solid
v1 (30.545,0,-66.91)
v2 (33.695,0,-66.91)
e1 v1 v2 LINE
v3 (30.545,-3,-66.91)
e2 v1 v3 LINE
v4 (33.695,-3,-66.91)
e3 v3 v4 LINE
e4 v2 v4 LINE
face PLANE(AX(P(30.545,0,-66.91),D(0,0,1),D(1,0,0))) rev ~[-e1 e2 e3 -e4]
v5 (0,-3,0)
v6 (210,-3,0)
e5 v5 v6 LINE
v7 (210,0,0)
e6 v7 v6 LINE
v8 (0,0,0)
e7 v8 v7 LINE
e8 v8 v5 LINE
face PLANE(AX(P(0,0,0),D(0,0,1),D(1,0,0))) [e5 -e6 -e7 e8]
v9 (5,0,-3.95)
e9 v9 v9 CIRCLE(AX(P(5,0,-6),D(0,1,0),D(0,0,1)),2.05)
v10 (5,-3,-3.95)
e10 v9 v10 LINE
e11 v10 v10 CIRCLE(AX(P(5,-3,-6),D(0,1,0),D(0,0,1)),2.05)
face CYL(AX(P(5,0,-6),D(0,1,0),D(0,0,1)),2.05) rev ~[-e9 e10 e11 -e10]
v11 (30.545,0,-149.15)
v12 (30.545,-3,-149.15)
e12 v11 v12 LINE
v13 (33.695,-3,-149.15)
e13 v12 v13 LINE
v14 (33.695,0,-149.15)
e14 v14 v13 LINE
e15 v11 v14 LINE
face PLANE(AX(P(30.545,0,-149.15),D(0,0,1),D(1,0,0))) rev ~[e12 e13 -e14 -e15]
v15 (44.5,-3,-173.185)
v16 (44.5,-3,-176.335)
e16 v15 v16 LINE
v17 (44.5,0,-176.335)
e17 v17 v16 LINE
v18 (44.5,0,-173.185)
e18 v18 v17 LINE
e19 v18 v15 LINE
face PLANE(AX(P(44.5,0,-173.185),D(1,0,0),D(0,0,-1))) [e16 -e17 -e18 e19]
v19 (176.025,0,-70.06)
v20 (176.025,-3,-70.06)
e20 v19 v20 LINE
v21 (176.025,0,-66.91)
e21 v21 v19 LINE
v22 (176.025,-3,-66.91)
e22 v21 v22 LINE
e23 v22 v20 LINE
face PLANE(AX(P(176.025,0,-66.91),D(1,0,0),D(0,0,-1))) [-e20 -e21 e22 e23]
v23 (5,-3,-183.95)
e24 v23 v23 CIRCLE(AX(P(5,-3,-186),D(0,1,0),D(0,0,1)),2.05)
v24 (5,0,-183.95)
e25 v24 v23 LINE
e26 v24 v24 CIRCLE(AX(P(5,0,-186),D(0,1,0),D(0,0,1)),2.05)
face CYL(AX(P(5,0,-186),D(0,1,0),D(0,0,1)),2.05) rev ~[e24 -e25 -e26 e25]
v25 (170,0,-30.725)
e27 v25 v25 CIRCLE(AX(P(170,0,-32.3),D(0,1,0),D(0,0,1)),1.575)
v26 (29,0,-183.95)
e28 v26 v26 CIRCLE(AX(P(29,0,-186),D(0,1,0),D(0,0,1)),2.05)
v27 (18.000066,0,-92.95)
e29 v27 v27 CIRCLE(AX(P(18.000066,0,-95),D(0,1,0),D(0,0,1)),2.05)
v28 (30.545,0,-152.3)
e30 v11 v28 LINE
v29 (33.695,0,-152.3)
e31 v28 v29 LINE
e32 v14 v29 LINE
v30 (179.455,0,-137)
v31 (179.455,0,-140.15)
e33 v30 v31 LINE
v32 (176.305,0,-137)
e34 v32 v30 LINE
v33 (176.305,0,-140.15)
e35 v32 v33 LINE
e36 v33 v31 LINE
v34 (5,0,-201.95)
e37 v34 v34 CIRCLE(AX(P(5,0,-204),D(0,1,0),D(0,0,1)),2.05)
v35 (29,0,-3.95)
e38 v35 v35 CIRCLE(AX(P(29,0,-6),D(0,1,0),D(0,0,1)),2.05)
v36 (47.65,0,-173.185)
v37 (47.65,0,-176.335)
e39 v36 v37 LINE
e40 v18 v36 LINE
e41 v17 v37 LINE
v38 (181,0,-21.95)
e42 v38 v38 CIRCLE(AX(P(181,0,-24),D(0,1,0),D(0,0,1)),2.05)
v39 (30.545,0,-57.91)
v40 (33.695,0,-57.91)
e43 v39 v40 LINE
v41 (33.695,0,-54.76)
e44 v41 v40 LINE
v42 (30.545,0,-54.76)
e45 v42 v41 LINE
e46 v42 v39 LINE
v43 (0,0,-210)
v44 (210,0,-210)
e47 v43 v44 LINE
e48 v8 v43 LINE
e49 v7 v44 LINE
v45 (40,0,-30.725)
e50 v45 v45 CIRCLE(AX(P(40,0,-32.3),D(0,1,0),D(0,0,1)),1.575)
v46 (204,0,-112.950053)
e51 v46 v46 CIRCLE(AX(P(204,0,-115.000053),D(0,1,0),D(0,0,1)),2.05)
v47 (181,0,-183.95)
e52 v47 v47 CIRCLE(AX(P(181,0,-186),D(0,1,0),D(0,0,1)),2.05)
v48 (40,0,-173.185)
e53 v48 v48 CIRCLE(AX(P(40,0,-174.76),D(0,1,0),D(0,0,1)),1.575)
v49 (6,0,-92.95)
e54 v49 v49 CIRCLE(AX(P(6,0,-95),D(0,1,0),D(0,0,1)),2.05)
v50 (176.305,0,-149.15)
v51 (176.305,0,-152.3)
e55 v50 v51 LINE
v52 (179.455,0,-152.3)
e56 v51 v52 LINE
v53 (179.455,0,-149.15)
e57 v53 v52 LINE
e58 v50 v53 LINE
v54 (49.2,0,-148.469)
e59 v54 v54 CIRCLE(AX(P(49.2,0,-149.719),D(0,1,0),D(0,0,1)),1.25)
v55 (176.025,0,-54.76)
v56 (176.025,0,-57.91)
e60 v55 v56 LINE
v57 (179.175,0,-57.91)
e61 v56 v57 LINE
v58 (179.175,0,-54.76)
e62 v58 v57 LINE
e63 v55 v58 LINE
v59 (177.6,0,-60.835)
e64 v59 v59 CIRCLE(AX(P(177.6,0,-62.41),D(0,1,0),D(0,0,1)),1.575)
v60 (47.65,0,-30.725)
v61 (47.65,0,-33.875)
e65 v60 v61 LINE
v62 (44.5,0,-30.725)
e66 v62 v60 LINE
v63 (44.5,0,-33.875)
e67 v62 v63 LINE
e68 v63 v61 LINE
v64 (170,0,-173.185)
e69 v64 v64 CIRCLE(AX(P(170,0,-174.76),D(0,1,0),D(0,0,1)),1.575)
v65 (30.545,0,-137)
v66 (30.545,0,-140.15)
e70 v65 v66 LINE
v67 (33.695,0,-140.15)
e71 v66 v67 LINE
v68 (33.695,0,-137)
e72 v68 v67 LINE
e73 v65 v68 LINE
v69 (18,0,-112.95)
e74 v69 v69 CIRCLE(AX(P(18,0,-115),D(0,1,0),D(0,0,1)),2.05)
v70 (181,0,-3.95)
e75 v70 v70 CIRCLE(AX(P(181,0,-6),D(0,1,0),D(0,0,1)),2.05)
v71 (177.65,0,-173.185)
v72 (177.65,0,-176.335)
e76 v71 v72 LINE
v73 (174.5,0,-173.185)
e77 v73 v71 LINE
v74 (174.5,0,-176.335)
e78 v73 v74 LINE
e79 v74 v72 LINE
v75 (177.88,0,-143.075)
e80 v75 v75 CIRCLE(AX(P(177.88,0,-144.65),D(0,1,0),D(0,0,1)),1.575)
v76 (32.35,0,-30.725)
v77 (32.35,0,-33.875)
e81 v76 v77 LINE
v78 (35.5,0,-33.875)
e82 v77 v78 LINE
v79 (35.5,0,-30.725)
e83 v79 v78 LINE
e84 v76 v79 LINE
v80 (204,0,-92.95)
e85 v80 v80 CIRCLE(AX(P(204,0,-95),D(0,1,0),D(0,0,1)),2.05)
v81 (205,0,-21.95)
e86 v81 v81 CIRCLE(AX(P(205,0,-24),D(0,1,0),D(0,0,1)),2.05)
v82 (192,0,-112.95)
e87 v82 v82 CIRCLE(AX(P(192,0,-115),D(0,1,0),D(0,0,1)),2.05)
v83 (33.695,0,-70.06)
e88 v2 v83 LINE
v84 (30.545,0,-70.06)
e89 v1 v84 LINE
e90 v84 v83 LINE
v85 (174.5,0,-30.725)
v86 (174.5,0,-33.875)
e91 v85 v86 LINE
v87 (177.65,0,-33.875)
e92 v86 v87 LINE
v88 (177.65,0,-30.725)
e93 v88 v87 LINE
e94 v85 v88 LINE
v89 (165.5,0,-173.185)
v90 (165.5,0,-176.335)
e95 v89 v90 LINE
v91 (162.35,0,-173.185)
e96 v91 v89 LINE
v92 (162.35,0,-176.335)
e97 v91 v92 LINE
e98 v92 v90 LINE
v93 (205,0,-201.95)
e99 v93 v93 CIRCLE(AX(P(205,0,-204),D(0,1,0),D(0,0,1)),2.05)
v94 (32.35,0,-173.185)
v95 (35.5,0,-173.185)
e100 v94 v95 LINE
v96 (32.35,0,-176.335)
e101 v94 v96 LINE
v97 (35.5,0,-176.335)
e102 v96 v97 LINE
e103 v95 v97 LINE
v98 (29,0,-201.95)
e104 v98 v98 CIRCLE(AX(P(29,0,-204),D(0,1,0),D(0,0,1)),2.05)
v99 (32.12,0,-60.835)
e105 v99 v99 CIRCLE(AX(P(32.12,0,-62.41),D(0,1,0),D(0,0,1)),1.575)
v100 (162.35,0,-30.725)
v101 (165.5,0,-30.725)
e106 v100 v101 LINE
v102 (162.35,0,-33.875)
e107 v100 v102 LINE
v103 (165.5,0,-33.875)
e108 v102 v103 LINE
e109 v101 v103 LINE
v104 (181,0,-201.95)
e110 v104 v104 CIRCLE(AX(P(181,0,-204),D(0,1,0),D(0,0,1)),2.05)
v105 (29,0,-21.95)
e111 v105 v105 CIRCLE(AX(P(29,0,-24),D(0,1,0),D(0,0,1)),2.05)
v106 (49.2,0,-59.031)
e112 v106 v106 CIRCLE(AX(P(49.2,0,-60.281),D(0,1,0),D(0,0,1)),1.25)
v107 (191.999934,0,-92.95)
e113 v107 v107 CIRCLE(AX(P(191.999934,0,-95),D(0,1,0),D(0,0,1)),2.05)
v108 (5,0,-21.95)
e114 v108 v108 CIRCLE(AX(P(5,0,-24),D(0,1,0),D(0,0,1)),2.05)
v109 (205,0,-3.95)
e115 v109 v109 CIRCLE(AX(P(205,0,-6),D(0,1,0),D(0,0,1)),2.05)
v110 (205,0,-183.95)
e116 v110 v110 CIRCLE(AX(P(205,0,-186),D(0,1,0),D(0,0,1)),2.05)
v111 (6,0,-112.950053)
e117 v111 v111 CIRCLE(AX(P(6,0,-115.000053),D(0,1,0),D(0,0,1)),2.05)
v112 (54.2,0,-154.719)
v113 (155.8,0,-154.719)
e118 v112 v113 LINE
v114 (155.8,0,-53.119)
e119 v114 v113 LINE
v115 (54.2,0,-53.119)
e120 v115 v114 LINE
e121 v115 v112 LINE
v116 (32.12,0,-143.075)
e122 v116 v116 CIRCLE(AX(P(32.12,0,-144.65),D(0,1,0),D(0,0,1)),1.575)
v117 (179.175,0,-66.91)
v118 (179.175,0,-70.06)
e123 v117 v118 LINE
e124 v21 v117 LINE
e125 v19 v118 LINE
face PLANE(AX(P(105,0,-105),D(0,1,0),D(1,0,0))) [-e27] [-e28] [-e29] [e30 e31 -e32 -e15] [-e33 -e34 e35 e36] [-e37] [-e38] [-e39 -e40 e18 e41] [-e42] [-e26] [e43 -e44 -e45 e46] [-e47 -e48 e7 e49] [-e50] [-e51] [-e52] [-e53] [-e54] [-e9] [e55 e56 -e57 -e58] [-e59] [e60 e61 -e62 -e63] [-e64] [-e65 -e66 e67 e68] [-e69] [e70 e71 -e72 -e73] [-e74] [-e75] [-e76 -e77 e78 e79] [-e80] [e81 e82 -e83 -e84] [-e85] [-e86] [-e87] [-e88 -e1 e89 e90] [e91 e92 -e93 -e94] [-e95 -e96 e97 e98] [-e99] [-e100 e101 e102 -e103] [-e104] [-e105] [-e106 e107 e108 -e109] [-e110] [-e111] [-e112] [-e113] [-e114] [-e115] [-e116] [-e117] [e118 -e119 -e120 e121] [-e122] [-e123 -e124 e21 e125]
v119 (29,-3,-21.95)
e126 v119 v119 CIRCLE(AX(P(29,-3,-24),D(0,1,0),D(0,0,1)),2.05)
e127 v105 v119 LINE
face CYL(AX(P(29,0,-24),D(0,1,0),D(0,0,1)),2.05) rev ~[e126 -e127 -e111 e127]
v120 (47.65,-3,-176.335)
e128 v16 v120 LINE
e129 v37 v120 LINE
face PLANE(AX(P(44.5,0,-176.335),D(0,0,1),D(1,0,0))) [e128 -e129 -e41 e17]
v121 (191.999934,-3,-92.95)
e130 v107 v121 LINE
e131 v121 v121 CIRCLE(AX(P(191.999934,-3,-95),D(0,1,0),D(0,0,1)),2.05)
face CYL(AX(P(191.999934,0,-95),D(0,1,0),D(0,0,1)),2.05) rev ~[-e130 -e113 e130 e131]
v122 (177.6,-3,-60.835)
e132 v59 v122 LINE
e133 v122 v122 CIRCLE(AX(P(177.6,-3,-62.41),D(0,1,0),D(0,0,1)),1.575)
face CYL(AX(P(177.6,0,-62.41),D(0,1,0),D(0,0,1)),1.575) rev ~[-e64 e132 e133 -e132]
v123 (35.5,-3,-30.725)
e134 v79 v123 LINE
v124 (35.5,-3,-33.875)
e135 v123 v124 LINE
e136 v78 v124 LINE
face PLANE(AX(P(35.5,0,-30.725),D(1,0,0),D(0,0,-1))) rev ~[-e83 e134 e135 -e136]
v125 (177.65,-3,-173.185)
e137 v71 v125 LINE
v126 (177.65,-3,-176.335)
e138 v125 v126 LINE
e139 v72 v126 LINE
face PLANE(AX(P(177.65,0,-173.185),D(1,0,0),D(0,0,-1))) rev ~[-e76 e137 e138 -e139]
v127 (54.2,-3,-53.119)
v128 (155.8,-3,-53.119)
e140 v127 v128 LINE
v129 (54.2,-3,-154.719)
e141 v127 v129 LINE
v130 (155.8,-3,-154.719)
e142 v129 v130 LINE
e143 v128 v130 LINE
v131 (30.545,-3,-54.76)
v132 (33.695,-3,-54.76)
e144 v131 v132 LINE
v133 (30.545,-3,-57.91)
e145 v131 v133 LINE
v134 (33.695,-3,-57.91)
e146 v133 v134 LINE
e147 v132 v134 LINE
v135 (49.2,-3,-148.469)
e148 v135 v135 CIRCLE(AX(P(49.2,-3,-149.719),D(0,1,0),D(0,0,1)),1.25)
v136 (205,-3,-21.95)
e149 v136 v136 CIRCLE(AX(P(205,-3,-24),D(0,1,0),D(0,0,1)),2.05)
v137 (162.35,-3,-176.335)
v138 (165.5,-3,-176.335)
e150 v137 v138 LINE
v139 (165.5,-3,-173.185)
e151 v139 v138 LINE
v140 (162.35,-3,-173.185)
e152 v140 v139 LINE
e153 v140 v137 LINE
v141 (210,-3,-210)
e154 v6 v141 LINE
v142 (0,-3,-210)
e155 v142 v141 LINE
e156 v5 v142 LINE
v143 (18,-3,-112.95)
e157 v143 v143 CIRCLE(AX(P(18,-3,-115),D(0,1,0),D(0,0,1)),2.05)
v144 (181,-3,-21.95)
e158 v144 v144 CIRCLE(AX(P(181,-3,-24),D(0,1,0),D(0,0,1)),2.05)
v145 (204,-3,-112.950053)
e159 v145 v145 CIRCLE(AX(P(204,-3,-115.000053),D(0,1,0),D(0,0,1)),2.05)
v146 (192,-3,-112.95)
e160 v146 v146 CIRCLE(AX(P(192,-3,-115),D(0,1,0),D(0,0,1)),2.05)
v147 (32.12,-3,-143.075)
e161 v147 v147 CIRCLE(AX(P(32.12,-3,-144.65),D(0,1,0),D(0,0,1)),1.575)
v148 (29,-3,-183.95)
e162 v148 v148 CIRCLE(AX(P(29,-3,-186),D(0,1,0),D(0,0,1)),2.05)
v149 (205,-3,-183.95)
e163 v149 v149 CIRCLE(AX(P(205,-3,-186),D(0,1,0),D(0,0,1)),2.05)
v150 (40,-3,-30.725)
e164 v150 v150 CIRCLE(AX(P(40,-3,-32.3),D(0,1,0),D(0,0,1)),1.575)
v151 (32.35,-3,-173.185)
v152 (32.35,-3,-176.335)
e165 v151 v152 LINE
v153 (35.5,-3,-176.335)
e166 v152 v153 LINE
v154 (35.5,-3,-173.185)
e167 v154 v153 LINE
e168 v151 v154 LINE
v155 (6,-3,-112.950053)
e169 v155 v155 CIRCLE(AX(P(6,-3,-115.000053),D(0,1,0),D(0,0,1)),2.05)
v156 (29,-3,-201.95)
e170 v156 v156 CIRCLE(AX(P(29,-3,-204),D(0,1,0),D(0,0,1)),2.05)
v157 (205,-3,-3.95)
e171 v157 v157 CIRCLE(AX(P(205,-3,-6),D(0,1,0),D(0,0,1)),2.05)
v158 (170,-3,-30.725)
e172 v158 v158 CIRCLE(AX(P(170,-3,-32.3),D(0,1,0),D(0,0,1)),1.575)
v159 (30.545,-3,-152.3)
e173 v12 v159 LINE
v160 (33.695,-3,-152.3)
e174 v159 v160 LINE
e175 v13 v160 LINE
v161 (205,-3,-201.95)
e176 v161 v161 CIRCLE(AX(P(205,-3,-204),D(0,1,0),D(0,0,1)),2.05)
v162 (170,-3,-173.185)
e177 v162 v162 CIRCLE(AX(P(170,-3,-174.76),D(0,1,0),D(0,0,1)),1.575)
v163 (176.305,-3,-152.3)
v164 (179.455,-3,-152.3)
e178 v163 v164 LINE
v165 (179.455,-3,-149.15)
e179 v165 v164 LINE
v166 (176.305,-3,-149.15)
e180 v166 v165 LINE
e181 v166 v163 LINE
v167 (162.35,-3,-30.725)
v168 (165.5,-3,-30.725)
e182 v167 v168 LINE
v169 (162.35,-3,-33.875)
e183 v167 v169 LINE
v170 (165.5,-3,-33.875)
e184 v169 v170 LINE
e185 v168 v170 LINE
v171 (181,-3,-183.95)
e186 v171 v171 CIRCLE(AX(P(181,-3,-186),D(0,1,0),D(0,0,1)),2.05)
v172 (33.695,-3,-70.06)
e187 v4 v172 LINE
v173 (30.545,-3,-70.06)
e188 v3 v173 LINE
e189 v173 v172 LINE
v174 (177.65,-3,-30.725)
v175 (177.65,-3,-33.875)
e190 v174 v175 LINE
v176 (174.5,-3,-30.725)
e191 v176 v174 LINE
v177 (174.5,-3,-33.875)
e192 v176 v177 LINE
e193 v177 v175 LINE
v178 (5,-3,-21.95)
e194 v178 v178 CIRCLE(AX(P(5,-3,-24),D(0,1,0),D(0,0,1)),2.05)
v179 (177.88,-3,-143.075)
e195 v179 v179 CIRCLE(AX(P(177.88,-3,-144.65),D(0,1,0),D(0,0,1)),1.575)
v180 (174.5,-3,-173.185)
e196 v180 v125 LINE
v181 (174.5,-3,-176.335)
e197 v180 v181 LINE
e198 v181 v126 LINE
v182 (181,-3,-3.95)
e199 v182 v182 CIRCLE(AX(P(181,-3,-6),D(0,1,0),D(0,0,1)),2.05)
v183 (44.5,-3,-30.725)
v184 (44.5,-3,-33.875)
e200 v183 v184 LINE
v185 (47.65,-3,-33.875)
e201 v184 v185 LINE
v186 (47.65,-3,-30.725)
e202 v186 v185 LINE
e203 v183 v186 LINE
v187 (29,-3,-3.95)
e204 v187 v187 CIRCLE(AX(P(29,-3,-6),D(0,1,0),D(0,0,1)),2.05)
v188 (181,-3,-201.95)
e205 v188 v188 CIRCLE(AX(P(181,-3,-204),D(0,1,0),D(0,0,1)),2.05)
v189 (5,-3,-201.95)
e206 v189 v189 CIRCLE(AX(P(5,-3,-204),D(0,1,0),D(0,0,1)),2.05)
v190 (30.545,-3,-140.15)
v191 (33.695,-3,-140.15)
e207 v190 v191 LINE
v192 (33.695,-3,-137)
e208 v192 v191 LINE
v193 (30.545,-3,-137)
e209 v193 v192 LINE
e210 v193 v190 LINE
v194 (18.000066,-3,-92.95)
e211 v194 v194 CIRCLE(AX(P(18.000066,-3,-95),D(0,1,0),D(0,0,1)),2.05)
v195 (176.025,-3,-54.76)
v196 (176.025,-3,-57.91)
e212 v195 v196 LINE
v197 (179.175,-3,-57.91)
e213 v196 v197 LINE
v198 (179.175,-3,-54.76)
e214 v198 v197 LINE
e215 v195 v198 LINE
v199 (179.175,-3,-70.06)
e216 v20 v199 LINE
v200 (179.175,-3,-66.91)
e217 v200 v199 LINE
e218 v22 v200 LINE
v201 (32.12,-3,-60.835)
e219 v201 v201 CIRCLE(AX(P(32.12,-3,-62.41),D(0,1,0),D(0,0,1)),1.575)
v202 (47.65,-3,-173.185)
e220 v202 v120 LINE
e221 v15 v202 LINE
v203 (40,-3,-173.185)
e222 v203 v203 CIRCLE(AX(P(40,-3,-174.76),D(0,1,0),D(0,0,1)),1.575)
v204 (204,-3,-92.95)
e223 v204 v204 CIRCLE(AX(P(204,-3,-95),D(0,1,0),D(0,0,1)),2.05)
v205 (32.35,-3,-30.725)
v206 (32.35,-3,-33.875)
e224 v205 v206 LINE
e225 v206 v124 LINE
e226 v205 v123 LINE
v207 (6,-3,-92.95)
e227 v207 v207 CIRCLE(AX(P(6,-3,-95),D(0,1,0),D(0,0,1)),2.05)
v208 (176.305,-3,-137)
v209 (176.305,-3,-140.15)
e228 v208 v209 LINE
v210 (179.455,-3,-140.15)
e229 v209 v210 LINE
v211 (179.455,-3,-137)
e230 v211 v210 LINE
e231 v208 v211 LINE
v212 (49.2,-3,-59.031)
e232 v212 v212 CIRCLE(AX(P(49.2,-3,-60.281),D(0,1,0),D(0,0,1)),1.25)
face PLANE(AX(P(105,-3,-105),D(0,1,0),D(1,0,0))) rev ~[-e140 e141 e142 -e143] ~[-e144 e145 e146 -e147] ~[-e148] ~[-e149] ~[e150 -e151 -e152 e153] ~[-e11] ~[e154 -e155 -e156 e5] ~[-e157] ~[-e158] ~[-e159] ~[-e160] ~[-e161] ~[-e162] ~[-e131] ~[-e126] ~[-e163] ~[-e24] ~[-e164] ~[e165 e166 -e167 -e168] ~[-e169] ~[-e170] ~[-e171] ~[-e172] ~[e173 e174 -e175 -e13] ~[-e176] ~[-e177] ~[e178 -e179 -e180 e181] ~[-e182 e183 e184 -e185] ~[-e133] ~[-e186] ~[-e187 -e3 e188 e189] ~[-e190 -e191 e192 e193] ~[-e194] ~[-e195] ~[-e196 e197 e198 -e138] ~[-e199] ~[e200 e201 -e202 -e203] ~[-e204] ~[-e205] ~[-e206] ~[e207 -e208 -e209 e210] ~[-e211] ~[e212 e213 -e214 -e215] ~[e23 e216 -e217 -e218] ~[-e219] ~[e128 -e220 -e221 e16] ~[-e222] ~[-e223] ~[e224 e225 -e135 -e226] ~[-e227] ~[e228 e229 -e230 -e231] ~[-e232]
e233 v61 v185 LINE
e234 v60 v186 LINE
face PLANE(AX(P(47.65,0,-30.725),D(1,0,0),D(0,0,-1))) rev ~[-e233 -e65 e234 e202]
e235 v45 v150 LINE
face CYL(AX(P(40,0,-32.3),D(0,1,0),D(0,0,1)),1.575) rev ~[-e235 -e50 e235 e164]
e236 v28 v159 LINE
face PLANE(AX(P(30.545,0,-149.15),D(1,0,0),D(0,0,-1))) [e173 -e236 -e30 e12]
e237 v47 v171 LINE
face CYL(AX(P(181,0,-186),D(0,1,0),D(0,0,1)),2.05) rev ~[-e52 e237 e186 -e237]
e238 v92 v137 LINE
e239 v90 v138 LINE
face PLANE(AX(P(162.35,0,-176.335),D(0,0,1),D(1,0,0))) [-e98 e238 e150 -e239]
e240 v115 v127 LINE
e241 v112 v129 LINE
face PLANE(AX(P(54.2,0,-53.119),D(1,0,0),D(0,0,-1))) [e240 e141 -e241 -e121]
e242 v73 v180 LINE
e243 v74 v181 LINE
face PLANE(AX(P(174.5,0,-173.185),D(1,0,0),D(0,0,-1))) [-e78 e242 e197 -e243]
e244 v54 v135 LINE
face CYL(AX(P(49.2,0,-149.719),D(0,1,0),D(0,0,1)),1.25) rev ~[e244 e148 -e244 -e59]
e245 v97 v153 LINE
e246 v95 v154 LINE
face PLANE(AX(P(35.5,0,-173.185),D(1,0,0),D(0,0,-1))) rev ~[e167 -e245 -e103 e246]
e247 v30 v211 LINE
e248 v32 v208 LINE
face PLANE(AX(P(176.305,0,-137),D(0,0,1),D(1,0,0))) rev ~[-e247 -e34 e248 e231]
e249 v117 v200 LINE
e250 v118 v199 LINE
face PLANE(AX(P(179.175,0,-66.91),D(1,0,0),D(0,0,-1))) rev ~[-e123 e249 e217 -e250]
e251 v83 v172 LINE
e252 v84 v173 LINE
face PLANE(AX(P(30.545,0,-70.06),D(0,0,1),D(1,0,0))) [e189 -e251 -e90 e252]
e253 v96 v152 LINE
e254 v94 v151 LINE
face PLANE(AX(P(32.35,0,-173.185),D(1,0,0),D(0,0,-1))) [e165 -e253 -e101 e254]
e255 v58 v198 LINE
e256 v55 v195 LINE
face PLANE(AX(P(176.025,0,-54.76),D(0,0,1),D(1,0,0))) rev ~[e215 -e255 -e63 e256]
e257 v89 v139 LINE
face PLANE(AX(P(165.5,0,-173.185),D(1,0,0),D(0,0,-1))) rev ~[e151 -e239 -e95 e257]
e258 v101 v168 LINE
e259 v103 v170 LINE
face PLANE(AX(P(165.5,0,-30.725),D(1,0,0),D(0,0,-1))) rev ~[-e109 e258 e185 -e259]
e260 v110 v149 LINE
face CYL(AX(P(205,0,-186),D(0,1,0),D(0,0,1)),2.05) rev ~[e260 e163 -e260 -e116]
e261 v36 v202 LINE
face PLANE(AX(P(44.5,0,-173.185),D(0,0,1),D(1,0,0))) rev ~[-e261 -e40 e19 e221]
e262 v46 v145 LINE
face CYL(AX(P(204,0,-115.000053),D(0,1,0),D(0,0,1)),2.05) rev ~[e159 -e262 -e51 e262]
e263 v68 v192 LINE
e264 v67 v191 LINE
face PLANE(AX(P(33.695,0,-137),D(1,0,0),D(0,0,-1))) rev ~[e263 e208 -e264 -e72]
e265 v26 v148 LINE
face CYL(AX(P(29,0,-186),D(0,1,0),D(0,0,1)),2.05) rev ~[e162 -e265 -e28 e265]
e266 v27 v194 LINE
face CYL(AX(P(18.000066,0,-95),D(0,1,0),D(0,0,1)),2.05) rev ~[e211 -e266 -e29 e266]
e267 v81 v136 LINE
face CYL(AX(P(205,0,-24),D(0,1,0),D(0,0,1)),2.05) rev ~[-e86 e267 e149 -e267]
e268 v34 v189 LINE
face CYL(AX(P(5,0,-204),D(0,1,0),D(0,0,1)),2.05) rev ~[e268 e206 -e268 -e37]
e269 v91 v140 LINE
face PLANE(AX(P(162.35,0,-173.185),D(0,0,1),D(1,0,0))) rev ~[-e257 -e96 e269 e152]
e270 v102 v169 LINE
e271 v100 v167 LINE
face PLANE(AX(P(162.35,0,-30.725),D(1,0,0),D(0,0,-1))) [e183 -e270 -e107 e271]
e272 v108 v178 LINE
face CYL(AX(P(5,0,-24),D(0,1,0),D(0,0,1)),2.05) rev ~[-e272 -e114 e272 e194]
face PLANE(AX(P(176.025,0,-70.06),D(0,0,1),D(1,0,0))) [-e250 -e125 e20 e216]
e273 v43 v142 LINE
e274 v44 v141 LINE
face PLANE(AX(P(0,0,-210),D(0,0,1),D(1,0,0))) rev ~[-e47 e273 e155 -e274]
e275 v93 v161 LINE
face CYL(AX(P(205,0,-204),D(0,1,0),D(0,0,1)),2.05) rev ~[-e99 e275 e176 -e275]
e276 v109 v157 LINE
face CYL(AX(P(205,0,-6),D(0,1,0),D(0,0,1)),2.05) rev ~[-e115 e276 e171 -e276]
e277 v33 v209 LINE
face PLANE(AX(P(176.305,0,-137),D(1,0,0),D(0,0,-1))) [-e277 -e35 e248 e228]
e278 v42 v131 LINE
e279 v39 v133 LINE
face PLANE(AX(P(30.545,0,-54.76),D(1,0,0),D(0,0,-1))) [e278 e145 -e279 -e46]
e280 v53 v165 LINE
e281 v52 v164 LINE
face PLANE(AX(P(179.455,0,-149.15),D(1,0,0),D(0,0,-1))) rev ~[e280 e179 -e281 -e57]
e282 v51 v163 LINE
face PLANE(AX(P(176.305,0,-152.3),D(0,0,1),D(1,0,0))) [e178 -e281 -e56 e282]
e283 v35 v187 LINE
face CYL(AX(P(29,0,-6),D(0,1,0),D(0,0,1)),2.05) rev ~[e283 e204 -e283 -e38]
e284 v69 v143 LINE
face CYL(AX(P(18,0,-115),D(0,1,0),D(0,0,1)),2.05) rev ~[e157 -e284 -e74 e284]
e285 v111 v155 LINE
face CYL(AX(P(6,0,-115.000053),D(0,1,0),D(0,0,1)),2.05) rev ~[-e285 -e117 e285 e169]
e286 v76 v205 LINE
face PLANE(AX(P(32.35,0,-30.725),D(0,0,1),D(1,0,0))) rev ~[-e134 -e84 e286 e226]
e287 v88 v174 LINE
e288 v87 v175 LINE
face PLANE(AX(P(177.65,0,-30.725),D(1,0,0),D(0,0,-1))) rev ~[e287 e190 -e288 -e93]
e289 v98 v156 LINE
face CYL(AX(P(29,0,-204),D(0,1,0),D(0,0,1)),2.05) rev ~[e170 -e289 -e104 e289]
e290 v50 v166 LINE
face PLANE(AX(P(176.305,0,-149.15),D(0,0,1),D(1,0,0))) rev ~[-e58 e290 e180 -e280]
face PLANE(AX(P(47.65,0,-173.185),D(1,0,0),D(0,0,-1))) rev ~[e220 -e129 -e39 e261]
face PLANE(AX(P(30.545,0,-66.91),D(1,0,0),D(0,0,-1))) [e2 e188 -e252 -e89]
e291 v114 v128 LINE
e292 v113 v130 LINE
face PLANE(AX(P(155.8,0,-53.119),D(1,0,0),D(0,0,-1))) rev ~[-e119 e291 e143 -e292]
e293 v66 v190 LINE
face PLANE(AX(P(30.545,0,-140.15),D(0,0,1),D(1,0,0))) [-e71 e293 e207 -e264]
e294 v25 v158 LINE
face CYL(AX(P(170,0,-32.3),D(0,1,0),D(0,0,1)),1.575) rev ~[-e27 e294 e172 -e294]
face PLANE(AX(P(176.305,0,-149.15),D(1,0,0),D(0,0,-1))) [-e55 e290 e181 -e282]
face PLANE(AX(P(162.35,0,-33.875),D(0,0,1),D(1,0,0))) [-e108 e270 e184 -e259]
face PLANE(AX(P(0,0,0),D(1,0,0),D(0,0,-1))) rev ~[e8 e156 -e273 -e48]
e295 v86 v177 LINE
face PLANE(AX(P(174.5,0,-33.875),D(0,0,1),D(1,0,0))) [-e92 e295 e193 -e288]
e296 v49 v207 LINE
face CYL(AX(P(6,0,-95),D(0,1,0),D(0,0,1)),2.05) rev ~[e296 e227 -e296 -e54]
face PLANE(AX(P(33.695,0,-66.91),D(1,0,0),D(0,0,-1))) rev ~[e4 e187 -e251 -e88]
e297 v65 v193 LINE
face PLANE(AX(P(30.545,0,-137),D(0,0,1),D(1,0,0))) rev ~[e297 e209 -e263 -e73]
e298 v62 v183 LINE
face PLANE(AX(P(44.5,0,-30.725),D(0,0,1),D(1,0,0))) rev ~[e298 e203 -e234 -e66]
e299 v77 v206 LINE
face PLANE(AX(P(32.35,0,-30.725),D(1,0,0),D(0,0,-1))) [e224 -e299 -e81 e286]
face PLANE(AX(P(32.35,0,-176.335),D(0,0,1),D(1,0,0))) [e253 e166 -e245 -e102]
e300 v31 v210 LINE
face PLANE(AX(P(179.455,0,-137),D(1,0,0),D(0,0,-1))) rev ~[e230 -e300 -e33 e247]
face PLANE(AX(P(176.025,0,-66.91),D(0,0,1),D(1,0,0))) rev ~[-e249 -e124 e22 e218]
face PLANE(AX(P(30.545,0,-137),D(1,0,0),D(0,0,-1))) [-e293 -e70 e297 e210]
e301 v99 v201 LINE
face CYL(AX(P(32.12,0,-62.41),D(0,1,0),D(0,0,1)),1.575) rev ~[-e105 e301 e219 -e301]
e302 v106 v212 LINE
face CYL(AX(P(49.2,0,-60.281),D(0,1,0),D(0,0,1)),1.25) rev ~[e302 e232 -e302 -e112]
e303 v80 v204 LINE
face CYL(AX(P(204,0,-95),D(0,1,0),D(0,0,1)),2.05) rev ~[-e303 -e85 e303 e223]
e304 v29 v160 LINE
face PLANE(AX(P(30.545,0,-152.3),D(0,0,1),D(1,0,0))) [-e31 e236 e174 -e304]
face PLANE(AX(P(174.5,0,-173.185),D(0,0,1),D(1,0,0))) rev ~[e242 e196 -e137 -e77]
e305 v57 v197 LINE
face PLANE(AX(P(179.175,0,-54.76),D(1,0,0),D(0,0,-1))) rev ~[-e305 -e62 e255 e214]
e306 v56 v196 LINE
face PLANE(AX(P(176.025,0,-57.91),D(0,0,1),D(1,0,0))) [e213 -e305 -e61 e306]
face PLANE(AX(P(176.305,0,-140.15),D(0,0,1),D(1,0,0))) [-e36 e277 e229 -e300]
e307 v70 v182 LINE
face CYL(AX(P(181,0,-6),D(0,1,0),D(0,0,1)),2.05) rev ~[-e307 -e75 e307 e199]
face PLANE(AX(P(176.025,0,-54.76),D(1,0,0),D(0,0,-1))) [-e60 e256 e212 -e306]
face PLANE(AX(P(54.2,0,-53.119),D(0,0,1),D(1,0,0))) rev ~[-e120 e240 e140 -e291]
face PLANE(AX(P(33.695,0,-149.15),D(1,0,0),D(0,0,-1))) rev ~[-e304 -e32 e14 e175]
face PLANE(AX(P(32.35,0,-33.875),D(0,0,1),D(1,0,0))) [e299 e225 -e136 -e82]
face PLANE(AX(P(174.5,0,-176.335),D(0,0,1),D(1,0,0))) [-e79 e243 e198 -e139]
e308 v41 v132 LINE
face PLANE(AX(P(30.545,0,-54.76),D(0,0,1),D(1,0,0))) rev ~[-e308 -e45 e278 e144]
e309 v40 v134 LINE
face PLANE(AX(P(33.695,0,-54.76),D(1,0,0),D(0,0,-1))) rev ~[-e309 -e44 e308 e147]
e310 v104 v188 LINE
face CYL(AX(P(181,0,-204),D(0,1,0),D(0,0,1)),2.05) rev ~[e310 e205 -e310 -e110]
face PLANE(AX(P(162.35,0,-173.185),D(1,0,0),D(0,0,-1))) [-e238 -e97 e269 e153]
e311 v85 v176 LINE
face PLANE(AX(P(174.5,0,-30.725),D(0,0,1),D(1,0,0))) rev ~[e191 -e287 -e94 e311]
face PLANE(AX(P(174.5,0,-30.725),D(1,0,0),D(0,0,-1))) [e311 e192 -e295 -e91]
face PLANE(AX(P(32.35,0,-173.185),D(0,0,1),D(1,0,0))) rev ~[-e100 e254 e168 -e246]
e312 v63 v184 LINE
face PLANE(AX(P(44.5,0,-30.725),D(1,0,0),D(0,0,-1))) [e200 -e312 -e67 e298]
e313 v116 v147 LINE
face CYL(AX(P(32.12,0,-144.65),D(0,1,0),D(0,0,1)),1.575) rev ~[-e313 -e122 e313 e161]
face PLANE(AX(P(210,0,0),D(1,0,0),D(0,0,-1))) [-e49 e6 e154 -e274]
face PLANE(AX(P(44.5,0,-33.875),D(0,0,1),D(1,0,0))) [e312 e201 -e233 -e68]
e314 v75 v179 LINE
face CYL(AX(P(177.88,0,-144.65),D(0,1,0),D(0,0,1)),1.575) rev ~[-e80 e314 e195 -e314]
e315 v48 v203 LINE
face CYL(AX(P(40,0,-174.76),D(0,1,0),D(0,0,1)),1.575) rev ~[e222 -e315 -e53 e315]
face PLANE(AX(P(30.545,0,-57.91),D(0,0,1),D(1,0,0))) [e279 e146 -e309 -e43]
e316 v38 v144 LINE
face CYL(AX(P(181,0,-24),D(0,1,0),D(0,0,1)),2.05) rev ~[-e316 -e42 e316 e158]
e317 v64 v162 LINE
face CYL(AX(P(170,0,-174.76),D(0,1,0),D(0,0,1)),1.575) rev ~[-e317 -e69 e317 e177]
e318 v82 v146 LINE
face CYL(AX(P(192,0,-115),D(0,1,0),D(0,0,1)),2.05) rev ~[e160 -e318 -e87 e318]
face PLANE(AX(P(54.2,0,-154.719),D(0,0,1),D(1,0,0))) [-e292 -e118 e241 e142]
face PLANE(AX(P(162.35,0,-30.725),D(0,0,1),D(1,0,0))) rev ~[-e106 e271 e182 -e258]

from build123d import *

# Parameters (mm, degrees)
SKETCH2_W           = 210
SKETCH2_H           = 210
SKETCH2_R           = 2.05
SKETCH2_R_2         = 1.575
SKETCH2_R_3         = 1.25
SKETCH2_W_2         = 101.6
SKETCH2_H_2         = 101.6
SKETCH2_W_3         = 3.15
SKETCH2_H_3         = 3.15
BOSS_EXTRUDE2_DEPTH = 3


with BuildPart() as part:
    # Sketch2 → Boss-Extrude2 (new body)
    with BuildSketch(Plane(origin=(0, 0, 0), x_dir=(1, 0, 0), z_dir=(0, 1, 0))):
        with Locations((105, 105)):
            Rectangle(SKETCH2_W, SKETCH2_H)
        with Locations(Location((5, 24, 0), (0, 0, 270))):
            Circle(SKETCH2_R, mode=Mode.SUBTRACT)
        with Locations(Location((29, 24, 0), (0, 0, 270))):
            Circle(SKETCH2_R, mode=Mode.SUBTRACT)
        with Locations(Location((40, 32.3, 0), (0, 0, 270))):
            Circle(SKETCH2_R_2, mode=Mode.SUBTRACT)
        with Locations(Location((205, 6, 0), (0, 0, 270))):
            Circle(SKETCH2_R, mode=Mode.SUBTRACT)
        with Locations(Location((181, 6, 0), (0, 0, 270))):
            Circle(SKETCH2_R, mode=Mode.SUBTRACT)
        with Locations(Location((170, 32.3, 0), (0, 0, 270))):
            Circle(SKETCH2_R_2, mode=Mode.SUBTRACT)
        with Locations(Location((29, 6, 0), (0, 0, 270))):
            Circle(SKETCH2_R, mode=Mode.SUBTRACT)
        with Locations(Location((5, 6, 0), (0, 0, 270))):
            Circle(SKETCH2_R, mode=Mode.SUBTRACT)
        with Locations(Location((181, 24, 0), (0, 0, 270))):
            Circle(SKETCH2_R, mode=Mode.SUBTRACT)
        with Locations(Location((205, 24, 0), (0, 0, 270))):
            Circle(SKETCH2_R, mode=Mode.SUBTRACT)
        with Locations(Location((205, 186, 0), (0, 0, 270))):
            Circle(SKETCH2_R, mode=Mode.SUBTRACT)
        with Locations(Location((181, 186, 0), (0, 0, 270))):
            Circle(SKETCH2_R, mode=Mode.SUBTRACT)
        with Locations(Location((40, 174.76, 0), (0, 0, 270))):
            Circle(SKETCH2_R_2, mode=Mode.SUBTRACT)
        with Locations(Location((181, 204, 0), (0, 0, 270))):
            Circle(SKETCH2_R, mode=Mode.SUBTRACT)
        with Locations(Location((205, 204, 0), (0, 0, 270))):
            Circle(SKETCH2_R, mode=Mode.SUBTRACT)
        with Locations(Location((5, 204, 0), (0, 0, 270))):
            Circle(SKETCH2_R, mode=Mode.SUBTRACT)
        with Locations(Location((29, 204, 0), (0, 0, 270))):
            Circle(SKETCH2_R, mode=Mode.SUBTRACT)
        with Locations(Location((170, 174.76, 0), (0, 0, 270))):
            Circle(SKETCH2_R_2, mode=Mode.SUBTRACT)
        with Locations(Location((29, 186, 0), (0, 0, 270))):
            Circle(SKETCH2_R, mode=Mode.SUBTRACT)
        with Locations(Location((5, 186, 0), (0, 0, 270))):
            Circle(SKETCH2_R, mode=Mode.SUBTRACT)
        with Locations(Location((177.6, 62.41, 0), (0, 0, 270))):
            Circle(SKETCH2_R_2, mode=Mode.SUBTRACT)
        with Locations(Location((177.88, 144.65, 0), (0, 0, 270))):
            Circle(SKETCH2_R_2, mode=Mode.SUBTRACT)
        with Locations(Location((32.12, 144.65, 0), (0, 0, 270))):
            Circle(SKETCH2_R_2, mode=Mode.SUBTRACT)
        with Locations(Location((32.12, 62.41, 0), (0, 0, 270))):
            Circle(SKETCH2_R_2, mode=Mode.SUBTRACT)
        with Locations(Location((49.2, 149.719, 0), (0, 0, 270))):
            Circle(SKETCH2_R_3, mode=Mode.SUBTRACT)
        with Locations(Location((49.2, 60.281, 0), (0, 0, 270))):
            Circle(SKETCH2_R_3, mode=Mode.SUBTRACT)
        with Locations(Location((18.000065795, 95, 0), (0, 0, 270))):
            Circle(SKETCH2_R, mode=Mode.SUBTRACT)
        with Locations(Location((18, 115, 0), (0, 0, 270))):
            Circle(SKETCH2_R, mode=Mode.SUBTRACT)
        with Locations(Location((6, 115.000053284, 0), (0, 0, 270))):
            Circle(SKETCH2_R, mode=Mode.SUBTRACT)
        with Locations(Location((6, 95, 0), (0, 0, 270))):
            Circle(SKETCH2_R, mode=Mode.SUBTRACT)
        with Locations(Location((204, 95, 0), (0, 0, 270))):
            Circle(SKETCH2_R, mode=Mode.SUBTRACT)
        with Locations(Location((204, 115.000053284, 0), (0, 0, 270))):
            Circle(SKETCH2_R, mode=Mode.SUBTRACT)
        with Locations(Location((191.999934205, 95, 0), (0, 0, 270))):
            Circle(SKETCH2_R, mode=Mode.SUBTRACT)
        with Locations(Location((192, 115, 0), (0, 0, 270))):
            Circle(SKETCH2_R, mode=Mode.SUBTRACT)
        with Locations((105, 103.919)):
            Rectangle(SKETCH2_W_2, SKETCH2_H_2, mode=Mode.SUBTRACT)
        with Locations((32.12, 150.725)):
            Rectangle(SKETCH2_W_3, SKETCH2_H_3, mode=Mode.SUBTRACT)
        with Locations((32.12, 138.575)):
            Rectangle(SKETCH2_W_3, SKETCH2_H_3, mode=Mode.SUBTRACT)
        with Locations((32.12, 68.485)):
            Rectangle(SKETCH2_W_3, SKETCH2_H_3, mode=Mode.SUBTRACT)
        with Locations((32.12, 56.335)):
            Rectangle(SKETCH2_W_3, SKETCH2_H_3, mode=Mode.SUBTRACT)
        with Locations((177.6, 68.485)):
            Rectangle(SKETCH2_W_3, SKETCH2_H_3, mode=Mode.SUBTRACT)
        with Locations((177.6, 56.335)):
            Rectangle(SKETCH2_W_3, SKETCH2_H_3, mode=Mode.SUBTRACT)
        with Locations((177.88, 138.575)):
            Rectangle(SKETCH2_W_3, SKETCH2_H_3, mode=Mode.SUBTRACT)
        with Locations((177.88, 150.725)):
            Rectangle(SKETCH2_W_3, SKETCH2_H_3, mode=Mode.SUBTRACT)
        with Locations((33.925, 32.3)):
            Rectangle(SKETCH2_W_3, SKETCH2_H_3, mode=Mode.SUBTRACT)
        with Locations((46.075, 32.3)):
            Rectangle(SKETCH2_W_3, SKETCH2_H_3, mode=Mode.SUBTRACT)
        with Locations((33.925, 174.76)):
            Rectangle(SKETCH2_W_3, SKETCH2_H_3, mode=Mode.SUBTRACT)
        with Locations((46.075, 174.76)):
            Rectangle(SKETCH2_W_3, SKETCH2_H_3, mode=Mode.SUBTRACT)
        with Locations((176.075, 32.3)):
            Rectangle(SKETCH2_W_3, SKETCH2_H_3, mode=Mode.SUBTRACT)
        with Locations((163.925, 32.3)):
            Rectangle(SKETCH2_W_3, SKETCH2_H_3, mode=Mode.SUBTRACT)
        with Locations((163.925, 174.76)):
            Rectangle(SKETCH2_W_3, SKETCH2_H_3, mode=Mode.SUBTRACT)
        with Locations((176.075, 174.76)):
            Rectangle(SKETCH2_W_3, SKETCH2_H_3, mode=Mode.SUBTRACT)
    extrude(amount=-BOSS_EXTRUDE2_DEPTH)


solid = part.part
